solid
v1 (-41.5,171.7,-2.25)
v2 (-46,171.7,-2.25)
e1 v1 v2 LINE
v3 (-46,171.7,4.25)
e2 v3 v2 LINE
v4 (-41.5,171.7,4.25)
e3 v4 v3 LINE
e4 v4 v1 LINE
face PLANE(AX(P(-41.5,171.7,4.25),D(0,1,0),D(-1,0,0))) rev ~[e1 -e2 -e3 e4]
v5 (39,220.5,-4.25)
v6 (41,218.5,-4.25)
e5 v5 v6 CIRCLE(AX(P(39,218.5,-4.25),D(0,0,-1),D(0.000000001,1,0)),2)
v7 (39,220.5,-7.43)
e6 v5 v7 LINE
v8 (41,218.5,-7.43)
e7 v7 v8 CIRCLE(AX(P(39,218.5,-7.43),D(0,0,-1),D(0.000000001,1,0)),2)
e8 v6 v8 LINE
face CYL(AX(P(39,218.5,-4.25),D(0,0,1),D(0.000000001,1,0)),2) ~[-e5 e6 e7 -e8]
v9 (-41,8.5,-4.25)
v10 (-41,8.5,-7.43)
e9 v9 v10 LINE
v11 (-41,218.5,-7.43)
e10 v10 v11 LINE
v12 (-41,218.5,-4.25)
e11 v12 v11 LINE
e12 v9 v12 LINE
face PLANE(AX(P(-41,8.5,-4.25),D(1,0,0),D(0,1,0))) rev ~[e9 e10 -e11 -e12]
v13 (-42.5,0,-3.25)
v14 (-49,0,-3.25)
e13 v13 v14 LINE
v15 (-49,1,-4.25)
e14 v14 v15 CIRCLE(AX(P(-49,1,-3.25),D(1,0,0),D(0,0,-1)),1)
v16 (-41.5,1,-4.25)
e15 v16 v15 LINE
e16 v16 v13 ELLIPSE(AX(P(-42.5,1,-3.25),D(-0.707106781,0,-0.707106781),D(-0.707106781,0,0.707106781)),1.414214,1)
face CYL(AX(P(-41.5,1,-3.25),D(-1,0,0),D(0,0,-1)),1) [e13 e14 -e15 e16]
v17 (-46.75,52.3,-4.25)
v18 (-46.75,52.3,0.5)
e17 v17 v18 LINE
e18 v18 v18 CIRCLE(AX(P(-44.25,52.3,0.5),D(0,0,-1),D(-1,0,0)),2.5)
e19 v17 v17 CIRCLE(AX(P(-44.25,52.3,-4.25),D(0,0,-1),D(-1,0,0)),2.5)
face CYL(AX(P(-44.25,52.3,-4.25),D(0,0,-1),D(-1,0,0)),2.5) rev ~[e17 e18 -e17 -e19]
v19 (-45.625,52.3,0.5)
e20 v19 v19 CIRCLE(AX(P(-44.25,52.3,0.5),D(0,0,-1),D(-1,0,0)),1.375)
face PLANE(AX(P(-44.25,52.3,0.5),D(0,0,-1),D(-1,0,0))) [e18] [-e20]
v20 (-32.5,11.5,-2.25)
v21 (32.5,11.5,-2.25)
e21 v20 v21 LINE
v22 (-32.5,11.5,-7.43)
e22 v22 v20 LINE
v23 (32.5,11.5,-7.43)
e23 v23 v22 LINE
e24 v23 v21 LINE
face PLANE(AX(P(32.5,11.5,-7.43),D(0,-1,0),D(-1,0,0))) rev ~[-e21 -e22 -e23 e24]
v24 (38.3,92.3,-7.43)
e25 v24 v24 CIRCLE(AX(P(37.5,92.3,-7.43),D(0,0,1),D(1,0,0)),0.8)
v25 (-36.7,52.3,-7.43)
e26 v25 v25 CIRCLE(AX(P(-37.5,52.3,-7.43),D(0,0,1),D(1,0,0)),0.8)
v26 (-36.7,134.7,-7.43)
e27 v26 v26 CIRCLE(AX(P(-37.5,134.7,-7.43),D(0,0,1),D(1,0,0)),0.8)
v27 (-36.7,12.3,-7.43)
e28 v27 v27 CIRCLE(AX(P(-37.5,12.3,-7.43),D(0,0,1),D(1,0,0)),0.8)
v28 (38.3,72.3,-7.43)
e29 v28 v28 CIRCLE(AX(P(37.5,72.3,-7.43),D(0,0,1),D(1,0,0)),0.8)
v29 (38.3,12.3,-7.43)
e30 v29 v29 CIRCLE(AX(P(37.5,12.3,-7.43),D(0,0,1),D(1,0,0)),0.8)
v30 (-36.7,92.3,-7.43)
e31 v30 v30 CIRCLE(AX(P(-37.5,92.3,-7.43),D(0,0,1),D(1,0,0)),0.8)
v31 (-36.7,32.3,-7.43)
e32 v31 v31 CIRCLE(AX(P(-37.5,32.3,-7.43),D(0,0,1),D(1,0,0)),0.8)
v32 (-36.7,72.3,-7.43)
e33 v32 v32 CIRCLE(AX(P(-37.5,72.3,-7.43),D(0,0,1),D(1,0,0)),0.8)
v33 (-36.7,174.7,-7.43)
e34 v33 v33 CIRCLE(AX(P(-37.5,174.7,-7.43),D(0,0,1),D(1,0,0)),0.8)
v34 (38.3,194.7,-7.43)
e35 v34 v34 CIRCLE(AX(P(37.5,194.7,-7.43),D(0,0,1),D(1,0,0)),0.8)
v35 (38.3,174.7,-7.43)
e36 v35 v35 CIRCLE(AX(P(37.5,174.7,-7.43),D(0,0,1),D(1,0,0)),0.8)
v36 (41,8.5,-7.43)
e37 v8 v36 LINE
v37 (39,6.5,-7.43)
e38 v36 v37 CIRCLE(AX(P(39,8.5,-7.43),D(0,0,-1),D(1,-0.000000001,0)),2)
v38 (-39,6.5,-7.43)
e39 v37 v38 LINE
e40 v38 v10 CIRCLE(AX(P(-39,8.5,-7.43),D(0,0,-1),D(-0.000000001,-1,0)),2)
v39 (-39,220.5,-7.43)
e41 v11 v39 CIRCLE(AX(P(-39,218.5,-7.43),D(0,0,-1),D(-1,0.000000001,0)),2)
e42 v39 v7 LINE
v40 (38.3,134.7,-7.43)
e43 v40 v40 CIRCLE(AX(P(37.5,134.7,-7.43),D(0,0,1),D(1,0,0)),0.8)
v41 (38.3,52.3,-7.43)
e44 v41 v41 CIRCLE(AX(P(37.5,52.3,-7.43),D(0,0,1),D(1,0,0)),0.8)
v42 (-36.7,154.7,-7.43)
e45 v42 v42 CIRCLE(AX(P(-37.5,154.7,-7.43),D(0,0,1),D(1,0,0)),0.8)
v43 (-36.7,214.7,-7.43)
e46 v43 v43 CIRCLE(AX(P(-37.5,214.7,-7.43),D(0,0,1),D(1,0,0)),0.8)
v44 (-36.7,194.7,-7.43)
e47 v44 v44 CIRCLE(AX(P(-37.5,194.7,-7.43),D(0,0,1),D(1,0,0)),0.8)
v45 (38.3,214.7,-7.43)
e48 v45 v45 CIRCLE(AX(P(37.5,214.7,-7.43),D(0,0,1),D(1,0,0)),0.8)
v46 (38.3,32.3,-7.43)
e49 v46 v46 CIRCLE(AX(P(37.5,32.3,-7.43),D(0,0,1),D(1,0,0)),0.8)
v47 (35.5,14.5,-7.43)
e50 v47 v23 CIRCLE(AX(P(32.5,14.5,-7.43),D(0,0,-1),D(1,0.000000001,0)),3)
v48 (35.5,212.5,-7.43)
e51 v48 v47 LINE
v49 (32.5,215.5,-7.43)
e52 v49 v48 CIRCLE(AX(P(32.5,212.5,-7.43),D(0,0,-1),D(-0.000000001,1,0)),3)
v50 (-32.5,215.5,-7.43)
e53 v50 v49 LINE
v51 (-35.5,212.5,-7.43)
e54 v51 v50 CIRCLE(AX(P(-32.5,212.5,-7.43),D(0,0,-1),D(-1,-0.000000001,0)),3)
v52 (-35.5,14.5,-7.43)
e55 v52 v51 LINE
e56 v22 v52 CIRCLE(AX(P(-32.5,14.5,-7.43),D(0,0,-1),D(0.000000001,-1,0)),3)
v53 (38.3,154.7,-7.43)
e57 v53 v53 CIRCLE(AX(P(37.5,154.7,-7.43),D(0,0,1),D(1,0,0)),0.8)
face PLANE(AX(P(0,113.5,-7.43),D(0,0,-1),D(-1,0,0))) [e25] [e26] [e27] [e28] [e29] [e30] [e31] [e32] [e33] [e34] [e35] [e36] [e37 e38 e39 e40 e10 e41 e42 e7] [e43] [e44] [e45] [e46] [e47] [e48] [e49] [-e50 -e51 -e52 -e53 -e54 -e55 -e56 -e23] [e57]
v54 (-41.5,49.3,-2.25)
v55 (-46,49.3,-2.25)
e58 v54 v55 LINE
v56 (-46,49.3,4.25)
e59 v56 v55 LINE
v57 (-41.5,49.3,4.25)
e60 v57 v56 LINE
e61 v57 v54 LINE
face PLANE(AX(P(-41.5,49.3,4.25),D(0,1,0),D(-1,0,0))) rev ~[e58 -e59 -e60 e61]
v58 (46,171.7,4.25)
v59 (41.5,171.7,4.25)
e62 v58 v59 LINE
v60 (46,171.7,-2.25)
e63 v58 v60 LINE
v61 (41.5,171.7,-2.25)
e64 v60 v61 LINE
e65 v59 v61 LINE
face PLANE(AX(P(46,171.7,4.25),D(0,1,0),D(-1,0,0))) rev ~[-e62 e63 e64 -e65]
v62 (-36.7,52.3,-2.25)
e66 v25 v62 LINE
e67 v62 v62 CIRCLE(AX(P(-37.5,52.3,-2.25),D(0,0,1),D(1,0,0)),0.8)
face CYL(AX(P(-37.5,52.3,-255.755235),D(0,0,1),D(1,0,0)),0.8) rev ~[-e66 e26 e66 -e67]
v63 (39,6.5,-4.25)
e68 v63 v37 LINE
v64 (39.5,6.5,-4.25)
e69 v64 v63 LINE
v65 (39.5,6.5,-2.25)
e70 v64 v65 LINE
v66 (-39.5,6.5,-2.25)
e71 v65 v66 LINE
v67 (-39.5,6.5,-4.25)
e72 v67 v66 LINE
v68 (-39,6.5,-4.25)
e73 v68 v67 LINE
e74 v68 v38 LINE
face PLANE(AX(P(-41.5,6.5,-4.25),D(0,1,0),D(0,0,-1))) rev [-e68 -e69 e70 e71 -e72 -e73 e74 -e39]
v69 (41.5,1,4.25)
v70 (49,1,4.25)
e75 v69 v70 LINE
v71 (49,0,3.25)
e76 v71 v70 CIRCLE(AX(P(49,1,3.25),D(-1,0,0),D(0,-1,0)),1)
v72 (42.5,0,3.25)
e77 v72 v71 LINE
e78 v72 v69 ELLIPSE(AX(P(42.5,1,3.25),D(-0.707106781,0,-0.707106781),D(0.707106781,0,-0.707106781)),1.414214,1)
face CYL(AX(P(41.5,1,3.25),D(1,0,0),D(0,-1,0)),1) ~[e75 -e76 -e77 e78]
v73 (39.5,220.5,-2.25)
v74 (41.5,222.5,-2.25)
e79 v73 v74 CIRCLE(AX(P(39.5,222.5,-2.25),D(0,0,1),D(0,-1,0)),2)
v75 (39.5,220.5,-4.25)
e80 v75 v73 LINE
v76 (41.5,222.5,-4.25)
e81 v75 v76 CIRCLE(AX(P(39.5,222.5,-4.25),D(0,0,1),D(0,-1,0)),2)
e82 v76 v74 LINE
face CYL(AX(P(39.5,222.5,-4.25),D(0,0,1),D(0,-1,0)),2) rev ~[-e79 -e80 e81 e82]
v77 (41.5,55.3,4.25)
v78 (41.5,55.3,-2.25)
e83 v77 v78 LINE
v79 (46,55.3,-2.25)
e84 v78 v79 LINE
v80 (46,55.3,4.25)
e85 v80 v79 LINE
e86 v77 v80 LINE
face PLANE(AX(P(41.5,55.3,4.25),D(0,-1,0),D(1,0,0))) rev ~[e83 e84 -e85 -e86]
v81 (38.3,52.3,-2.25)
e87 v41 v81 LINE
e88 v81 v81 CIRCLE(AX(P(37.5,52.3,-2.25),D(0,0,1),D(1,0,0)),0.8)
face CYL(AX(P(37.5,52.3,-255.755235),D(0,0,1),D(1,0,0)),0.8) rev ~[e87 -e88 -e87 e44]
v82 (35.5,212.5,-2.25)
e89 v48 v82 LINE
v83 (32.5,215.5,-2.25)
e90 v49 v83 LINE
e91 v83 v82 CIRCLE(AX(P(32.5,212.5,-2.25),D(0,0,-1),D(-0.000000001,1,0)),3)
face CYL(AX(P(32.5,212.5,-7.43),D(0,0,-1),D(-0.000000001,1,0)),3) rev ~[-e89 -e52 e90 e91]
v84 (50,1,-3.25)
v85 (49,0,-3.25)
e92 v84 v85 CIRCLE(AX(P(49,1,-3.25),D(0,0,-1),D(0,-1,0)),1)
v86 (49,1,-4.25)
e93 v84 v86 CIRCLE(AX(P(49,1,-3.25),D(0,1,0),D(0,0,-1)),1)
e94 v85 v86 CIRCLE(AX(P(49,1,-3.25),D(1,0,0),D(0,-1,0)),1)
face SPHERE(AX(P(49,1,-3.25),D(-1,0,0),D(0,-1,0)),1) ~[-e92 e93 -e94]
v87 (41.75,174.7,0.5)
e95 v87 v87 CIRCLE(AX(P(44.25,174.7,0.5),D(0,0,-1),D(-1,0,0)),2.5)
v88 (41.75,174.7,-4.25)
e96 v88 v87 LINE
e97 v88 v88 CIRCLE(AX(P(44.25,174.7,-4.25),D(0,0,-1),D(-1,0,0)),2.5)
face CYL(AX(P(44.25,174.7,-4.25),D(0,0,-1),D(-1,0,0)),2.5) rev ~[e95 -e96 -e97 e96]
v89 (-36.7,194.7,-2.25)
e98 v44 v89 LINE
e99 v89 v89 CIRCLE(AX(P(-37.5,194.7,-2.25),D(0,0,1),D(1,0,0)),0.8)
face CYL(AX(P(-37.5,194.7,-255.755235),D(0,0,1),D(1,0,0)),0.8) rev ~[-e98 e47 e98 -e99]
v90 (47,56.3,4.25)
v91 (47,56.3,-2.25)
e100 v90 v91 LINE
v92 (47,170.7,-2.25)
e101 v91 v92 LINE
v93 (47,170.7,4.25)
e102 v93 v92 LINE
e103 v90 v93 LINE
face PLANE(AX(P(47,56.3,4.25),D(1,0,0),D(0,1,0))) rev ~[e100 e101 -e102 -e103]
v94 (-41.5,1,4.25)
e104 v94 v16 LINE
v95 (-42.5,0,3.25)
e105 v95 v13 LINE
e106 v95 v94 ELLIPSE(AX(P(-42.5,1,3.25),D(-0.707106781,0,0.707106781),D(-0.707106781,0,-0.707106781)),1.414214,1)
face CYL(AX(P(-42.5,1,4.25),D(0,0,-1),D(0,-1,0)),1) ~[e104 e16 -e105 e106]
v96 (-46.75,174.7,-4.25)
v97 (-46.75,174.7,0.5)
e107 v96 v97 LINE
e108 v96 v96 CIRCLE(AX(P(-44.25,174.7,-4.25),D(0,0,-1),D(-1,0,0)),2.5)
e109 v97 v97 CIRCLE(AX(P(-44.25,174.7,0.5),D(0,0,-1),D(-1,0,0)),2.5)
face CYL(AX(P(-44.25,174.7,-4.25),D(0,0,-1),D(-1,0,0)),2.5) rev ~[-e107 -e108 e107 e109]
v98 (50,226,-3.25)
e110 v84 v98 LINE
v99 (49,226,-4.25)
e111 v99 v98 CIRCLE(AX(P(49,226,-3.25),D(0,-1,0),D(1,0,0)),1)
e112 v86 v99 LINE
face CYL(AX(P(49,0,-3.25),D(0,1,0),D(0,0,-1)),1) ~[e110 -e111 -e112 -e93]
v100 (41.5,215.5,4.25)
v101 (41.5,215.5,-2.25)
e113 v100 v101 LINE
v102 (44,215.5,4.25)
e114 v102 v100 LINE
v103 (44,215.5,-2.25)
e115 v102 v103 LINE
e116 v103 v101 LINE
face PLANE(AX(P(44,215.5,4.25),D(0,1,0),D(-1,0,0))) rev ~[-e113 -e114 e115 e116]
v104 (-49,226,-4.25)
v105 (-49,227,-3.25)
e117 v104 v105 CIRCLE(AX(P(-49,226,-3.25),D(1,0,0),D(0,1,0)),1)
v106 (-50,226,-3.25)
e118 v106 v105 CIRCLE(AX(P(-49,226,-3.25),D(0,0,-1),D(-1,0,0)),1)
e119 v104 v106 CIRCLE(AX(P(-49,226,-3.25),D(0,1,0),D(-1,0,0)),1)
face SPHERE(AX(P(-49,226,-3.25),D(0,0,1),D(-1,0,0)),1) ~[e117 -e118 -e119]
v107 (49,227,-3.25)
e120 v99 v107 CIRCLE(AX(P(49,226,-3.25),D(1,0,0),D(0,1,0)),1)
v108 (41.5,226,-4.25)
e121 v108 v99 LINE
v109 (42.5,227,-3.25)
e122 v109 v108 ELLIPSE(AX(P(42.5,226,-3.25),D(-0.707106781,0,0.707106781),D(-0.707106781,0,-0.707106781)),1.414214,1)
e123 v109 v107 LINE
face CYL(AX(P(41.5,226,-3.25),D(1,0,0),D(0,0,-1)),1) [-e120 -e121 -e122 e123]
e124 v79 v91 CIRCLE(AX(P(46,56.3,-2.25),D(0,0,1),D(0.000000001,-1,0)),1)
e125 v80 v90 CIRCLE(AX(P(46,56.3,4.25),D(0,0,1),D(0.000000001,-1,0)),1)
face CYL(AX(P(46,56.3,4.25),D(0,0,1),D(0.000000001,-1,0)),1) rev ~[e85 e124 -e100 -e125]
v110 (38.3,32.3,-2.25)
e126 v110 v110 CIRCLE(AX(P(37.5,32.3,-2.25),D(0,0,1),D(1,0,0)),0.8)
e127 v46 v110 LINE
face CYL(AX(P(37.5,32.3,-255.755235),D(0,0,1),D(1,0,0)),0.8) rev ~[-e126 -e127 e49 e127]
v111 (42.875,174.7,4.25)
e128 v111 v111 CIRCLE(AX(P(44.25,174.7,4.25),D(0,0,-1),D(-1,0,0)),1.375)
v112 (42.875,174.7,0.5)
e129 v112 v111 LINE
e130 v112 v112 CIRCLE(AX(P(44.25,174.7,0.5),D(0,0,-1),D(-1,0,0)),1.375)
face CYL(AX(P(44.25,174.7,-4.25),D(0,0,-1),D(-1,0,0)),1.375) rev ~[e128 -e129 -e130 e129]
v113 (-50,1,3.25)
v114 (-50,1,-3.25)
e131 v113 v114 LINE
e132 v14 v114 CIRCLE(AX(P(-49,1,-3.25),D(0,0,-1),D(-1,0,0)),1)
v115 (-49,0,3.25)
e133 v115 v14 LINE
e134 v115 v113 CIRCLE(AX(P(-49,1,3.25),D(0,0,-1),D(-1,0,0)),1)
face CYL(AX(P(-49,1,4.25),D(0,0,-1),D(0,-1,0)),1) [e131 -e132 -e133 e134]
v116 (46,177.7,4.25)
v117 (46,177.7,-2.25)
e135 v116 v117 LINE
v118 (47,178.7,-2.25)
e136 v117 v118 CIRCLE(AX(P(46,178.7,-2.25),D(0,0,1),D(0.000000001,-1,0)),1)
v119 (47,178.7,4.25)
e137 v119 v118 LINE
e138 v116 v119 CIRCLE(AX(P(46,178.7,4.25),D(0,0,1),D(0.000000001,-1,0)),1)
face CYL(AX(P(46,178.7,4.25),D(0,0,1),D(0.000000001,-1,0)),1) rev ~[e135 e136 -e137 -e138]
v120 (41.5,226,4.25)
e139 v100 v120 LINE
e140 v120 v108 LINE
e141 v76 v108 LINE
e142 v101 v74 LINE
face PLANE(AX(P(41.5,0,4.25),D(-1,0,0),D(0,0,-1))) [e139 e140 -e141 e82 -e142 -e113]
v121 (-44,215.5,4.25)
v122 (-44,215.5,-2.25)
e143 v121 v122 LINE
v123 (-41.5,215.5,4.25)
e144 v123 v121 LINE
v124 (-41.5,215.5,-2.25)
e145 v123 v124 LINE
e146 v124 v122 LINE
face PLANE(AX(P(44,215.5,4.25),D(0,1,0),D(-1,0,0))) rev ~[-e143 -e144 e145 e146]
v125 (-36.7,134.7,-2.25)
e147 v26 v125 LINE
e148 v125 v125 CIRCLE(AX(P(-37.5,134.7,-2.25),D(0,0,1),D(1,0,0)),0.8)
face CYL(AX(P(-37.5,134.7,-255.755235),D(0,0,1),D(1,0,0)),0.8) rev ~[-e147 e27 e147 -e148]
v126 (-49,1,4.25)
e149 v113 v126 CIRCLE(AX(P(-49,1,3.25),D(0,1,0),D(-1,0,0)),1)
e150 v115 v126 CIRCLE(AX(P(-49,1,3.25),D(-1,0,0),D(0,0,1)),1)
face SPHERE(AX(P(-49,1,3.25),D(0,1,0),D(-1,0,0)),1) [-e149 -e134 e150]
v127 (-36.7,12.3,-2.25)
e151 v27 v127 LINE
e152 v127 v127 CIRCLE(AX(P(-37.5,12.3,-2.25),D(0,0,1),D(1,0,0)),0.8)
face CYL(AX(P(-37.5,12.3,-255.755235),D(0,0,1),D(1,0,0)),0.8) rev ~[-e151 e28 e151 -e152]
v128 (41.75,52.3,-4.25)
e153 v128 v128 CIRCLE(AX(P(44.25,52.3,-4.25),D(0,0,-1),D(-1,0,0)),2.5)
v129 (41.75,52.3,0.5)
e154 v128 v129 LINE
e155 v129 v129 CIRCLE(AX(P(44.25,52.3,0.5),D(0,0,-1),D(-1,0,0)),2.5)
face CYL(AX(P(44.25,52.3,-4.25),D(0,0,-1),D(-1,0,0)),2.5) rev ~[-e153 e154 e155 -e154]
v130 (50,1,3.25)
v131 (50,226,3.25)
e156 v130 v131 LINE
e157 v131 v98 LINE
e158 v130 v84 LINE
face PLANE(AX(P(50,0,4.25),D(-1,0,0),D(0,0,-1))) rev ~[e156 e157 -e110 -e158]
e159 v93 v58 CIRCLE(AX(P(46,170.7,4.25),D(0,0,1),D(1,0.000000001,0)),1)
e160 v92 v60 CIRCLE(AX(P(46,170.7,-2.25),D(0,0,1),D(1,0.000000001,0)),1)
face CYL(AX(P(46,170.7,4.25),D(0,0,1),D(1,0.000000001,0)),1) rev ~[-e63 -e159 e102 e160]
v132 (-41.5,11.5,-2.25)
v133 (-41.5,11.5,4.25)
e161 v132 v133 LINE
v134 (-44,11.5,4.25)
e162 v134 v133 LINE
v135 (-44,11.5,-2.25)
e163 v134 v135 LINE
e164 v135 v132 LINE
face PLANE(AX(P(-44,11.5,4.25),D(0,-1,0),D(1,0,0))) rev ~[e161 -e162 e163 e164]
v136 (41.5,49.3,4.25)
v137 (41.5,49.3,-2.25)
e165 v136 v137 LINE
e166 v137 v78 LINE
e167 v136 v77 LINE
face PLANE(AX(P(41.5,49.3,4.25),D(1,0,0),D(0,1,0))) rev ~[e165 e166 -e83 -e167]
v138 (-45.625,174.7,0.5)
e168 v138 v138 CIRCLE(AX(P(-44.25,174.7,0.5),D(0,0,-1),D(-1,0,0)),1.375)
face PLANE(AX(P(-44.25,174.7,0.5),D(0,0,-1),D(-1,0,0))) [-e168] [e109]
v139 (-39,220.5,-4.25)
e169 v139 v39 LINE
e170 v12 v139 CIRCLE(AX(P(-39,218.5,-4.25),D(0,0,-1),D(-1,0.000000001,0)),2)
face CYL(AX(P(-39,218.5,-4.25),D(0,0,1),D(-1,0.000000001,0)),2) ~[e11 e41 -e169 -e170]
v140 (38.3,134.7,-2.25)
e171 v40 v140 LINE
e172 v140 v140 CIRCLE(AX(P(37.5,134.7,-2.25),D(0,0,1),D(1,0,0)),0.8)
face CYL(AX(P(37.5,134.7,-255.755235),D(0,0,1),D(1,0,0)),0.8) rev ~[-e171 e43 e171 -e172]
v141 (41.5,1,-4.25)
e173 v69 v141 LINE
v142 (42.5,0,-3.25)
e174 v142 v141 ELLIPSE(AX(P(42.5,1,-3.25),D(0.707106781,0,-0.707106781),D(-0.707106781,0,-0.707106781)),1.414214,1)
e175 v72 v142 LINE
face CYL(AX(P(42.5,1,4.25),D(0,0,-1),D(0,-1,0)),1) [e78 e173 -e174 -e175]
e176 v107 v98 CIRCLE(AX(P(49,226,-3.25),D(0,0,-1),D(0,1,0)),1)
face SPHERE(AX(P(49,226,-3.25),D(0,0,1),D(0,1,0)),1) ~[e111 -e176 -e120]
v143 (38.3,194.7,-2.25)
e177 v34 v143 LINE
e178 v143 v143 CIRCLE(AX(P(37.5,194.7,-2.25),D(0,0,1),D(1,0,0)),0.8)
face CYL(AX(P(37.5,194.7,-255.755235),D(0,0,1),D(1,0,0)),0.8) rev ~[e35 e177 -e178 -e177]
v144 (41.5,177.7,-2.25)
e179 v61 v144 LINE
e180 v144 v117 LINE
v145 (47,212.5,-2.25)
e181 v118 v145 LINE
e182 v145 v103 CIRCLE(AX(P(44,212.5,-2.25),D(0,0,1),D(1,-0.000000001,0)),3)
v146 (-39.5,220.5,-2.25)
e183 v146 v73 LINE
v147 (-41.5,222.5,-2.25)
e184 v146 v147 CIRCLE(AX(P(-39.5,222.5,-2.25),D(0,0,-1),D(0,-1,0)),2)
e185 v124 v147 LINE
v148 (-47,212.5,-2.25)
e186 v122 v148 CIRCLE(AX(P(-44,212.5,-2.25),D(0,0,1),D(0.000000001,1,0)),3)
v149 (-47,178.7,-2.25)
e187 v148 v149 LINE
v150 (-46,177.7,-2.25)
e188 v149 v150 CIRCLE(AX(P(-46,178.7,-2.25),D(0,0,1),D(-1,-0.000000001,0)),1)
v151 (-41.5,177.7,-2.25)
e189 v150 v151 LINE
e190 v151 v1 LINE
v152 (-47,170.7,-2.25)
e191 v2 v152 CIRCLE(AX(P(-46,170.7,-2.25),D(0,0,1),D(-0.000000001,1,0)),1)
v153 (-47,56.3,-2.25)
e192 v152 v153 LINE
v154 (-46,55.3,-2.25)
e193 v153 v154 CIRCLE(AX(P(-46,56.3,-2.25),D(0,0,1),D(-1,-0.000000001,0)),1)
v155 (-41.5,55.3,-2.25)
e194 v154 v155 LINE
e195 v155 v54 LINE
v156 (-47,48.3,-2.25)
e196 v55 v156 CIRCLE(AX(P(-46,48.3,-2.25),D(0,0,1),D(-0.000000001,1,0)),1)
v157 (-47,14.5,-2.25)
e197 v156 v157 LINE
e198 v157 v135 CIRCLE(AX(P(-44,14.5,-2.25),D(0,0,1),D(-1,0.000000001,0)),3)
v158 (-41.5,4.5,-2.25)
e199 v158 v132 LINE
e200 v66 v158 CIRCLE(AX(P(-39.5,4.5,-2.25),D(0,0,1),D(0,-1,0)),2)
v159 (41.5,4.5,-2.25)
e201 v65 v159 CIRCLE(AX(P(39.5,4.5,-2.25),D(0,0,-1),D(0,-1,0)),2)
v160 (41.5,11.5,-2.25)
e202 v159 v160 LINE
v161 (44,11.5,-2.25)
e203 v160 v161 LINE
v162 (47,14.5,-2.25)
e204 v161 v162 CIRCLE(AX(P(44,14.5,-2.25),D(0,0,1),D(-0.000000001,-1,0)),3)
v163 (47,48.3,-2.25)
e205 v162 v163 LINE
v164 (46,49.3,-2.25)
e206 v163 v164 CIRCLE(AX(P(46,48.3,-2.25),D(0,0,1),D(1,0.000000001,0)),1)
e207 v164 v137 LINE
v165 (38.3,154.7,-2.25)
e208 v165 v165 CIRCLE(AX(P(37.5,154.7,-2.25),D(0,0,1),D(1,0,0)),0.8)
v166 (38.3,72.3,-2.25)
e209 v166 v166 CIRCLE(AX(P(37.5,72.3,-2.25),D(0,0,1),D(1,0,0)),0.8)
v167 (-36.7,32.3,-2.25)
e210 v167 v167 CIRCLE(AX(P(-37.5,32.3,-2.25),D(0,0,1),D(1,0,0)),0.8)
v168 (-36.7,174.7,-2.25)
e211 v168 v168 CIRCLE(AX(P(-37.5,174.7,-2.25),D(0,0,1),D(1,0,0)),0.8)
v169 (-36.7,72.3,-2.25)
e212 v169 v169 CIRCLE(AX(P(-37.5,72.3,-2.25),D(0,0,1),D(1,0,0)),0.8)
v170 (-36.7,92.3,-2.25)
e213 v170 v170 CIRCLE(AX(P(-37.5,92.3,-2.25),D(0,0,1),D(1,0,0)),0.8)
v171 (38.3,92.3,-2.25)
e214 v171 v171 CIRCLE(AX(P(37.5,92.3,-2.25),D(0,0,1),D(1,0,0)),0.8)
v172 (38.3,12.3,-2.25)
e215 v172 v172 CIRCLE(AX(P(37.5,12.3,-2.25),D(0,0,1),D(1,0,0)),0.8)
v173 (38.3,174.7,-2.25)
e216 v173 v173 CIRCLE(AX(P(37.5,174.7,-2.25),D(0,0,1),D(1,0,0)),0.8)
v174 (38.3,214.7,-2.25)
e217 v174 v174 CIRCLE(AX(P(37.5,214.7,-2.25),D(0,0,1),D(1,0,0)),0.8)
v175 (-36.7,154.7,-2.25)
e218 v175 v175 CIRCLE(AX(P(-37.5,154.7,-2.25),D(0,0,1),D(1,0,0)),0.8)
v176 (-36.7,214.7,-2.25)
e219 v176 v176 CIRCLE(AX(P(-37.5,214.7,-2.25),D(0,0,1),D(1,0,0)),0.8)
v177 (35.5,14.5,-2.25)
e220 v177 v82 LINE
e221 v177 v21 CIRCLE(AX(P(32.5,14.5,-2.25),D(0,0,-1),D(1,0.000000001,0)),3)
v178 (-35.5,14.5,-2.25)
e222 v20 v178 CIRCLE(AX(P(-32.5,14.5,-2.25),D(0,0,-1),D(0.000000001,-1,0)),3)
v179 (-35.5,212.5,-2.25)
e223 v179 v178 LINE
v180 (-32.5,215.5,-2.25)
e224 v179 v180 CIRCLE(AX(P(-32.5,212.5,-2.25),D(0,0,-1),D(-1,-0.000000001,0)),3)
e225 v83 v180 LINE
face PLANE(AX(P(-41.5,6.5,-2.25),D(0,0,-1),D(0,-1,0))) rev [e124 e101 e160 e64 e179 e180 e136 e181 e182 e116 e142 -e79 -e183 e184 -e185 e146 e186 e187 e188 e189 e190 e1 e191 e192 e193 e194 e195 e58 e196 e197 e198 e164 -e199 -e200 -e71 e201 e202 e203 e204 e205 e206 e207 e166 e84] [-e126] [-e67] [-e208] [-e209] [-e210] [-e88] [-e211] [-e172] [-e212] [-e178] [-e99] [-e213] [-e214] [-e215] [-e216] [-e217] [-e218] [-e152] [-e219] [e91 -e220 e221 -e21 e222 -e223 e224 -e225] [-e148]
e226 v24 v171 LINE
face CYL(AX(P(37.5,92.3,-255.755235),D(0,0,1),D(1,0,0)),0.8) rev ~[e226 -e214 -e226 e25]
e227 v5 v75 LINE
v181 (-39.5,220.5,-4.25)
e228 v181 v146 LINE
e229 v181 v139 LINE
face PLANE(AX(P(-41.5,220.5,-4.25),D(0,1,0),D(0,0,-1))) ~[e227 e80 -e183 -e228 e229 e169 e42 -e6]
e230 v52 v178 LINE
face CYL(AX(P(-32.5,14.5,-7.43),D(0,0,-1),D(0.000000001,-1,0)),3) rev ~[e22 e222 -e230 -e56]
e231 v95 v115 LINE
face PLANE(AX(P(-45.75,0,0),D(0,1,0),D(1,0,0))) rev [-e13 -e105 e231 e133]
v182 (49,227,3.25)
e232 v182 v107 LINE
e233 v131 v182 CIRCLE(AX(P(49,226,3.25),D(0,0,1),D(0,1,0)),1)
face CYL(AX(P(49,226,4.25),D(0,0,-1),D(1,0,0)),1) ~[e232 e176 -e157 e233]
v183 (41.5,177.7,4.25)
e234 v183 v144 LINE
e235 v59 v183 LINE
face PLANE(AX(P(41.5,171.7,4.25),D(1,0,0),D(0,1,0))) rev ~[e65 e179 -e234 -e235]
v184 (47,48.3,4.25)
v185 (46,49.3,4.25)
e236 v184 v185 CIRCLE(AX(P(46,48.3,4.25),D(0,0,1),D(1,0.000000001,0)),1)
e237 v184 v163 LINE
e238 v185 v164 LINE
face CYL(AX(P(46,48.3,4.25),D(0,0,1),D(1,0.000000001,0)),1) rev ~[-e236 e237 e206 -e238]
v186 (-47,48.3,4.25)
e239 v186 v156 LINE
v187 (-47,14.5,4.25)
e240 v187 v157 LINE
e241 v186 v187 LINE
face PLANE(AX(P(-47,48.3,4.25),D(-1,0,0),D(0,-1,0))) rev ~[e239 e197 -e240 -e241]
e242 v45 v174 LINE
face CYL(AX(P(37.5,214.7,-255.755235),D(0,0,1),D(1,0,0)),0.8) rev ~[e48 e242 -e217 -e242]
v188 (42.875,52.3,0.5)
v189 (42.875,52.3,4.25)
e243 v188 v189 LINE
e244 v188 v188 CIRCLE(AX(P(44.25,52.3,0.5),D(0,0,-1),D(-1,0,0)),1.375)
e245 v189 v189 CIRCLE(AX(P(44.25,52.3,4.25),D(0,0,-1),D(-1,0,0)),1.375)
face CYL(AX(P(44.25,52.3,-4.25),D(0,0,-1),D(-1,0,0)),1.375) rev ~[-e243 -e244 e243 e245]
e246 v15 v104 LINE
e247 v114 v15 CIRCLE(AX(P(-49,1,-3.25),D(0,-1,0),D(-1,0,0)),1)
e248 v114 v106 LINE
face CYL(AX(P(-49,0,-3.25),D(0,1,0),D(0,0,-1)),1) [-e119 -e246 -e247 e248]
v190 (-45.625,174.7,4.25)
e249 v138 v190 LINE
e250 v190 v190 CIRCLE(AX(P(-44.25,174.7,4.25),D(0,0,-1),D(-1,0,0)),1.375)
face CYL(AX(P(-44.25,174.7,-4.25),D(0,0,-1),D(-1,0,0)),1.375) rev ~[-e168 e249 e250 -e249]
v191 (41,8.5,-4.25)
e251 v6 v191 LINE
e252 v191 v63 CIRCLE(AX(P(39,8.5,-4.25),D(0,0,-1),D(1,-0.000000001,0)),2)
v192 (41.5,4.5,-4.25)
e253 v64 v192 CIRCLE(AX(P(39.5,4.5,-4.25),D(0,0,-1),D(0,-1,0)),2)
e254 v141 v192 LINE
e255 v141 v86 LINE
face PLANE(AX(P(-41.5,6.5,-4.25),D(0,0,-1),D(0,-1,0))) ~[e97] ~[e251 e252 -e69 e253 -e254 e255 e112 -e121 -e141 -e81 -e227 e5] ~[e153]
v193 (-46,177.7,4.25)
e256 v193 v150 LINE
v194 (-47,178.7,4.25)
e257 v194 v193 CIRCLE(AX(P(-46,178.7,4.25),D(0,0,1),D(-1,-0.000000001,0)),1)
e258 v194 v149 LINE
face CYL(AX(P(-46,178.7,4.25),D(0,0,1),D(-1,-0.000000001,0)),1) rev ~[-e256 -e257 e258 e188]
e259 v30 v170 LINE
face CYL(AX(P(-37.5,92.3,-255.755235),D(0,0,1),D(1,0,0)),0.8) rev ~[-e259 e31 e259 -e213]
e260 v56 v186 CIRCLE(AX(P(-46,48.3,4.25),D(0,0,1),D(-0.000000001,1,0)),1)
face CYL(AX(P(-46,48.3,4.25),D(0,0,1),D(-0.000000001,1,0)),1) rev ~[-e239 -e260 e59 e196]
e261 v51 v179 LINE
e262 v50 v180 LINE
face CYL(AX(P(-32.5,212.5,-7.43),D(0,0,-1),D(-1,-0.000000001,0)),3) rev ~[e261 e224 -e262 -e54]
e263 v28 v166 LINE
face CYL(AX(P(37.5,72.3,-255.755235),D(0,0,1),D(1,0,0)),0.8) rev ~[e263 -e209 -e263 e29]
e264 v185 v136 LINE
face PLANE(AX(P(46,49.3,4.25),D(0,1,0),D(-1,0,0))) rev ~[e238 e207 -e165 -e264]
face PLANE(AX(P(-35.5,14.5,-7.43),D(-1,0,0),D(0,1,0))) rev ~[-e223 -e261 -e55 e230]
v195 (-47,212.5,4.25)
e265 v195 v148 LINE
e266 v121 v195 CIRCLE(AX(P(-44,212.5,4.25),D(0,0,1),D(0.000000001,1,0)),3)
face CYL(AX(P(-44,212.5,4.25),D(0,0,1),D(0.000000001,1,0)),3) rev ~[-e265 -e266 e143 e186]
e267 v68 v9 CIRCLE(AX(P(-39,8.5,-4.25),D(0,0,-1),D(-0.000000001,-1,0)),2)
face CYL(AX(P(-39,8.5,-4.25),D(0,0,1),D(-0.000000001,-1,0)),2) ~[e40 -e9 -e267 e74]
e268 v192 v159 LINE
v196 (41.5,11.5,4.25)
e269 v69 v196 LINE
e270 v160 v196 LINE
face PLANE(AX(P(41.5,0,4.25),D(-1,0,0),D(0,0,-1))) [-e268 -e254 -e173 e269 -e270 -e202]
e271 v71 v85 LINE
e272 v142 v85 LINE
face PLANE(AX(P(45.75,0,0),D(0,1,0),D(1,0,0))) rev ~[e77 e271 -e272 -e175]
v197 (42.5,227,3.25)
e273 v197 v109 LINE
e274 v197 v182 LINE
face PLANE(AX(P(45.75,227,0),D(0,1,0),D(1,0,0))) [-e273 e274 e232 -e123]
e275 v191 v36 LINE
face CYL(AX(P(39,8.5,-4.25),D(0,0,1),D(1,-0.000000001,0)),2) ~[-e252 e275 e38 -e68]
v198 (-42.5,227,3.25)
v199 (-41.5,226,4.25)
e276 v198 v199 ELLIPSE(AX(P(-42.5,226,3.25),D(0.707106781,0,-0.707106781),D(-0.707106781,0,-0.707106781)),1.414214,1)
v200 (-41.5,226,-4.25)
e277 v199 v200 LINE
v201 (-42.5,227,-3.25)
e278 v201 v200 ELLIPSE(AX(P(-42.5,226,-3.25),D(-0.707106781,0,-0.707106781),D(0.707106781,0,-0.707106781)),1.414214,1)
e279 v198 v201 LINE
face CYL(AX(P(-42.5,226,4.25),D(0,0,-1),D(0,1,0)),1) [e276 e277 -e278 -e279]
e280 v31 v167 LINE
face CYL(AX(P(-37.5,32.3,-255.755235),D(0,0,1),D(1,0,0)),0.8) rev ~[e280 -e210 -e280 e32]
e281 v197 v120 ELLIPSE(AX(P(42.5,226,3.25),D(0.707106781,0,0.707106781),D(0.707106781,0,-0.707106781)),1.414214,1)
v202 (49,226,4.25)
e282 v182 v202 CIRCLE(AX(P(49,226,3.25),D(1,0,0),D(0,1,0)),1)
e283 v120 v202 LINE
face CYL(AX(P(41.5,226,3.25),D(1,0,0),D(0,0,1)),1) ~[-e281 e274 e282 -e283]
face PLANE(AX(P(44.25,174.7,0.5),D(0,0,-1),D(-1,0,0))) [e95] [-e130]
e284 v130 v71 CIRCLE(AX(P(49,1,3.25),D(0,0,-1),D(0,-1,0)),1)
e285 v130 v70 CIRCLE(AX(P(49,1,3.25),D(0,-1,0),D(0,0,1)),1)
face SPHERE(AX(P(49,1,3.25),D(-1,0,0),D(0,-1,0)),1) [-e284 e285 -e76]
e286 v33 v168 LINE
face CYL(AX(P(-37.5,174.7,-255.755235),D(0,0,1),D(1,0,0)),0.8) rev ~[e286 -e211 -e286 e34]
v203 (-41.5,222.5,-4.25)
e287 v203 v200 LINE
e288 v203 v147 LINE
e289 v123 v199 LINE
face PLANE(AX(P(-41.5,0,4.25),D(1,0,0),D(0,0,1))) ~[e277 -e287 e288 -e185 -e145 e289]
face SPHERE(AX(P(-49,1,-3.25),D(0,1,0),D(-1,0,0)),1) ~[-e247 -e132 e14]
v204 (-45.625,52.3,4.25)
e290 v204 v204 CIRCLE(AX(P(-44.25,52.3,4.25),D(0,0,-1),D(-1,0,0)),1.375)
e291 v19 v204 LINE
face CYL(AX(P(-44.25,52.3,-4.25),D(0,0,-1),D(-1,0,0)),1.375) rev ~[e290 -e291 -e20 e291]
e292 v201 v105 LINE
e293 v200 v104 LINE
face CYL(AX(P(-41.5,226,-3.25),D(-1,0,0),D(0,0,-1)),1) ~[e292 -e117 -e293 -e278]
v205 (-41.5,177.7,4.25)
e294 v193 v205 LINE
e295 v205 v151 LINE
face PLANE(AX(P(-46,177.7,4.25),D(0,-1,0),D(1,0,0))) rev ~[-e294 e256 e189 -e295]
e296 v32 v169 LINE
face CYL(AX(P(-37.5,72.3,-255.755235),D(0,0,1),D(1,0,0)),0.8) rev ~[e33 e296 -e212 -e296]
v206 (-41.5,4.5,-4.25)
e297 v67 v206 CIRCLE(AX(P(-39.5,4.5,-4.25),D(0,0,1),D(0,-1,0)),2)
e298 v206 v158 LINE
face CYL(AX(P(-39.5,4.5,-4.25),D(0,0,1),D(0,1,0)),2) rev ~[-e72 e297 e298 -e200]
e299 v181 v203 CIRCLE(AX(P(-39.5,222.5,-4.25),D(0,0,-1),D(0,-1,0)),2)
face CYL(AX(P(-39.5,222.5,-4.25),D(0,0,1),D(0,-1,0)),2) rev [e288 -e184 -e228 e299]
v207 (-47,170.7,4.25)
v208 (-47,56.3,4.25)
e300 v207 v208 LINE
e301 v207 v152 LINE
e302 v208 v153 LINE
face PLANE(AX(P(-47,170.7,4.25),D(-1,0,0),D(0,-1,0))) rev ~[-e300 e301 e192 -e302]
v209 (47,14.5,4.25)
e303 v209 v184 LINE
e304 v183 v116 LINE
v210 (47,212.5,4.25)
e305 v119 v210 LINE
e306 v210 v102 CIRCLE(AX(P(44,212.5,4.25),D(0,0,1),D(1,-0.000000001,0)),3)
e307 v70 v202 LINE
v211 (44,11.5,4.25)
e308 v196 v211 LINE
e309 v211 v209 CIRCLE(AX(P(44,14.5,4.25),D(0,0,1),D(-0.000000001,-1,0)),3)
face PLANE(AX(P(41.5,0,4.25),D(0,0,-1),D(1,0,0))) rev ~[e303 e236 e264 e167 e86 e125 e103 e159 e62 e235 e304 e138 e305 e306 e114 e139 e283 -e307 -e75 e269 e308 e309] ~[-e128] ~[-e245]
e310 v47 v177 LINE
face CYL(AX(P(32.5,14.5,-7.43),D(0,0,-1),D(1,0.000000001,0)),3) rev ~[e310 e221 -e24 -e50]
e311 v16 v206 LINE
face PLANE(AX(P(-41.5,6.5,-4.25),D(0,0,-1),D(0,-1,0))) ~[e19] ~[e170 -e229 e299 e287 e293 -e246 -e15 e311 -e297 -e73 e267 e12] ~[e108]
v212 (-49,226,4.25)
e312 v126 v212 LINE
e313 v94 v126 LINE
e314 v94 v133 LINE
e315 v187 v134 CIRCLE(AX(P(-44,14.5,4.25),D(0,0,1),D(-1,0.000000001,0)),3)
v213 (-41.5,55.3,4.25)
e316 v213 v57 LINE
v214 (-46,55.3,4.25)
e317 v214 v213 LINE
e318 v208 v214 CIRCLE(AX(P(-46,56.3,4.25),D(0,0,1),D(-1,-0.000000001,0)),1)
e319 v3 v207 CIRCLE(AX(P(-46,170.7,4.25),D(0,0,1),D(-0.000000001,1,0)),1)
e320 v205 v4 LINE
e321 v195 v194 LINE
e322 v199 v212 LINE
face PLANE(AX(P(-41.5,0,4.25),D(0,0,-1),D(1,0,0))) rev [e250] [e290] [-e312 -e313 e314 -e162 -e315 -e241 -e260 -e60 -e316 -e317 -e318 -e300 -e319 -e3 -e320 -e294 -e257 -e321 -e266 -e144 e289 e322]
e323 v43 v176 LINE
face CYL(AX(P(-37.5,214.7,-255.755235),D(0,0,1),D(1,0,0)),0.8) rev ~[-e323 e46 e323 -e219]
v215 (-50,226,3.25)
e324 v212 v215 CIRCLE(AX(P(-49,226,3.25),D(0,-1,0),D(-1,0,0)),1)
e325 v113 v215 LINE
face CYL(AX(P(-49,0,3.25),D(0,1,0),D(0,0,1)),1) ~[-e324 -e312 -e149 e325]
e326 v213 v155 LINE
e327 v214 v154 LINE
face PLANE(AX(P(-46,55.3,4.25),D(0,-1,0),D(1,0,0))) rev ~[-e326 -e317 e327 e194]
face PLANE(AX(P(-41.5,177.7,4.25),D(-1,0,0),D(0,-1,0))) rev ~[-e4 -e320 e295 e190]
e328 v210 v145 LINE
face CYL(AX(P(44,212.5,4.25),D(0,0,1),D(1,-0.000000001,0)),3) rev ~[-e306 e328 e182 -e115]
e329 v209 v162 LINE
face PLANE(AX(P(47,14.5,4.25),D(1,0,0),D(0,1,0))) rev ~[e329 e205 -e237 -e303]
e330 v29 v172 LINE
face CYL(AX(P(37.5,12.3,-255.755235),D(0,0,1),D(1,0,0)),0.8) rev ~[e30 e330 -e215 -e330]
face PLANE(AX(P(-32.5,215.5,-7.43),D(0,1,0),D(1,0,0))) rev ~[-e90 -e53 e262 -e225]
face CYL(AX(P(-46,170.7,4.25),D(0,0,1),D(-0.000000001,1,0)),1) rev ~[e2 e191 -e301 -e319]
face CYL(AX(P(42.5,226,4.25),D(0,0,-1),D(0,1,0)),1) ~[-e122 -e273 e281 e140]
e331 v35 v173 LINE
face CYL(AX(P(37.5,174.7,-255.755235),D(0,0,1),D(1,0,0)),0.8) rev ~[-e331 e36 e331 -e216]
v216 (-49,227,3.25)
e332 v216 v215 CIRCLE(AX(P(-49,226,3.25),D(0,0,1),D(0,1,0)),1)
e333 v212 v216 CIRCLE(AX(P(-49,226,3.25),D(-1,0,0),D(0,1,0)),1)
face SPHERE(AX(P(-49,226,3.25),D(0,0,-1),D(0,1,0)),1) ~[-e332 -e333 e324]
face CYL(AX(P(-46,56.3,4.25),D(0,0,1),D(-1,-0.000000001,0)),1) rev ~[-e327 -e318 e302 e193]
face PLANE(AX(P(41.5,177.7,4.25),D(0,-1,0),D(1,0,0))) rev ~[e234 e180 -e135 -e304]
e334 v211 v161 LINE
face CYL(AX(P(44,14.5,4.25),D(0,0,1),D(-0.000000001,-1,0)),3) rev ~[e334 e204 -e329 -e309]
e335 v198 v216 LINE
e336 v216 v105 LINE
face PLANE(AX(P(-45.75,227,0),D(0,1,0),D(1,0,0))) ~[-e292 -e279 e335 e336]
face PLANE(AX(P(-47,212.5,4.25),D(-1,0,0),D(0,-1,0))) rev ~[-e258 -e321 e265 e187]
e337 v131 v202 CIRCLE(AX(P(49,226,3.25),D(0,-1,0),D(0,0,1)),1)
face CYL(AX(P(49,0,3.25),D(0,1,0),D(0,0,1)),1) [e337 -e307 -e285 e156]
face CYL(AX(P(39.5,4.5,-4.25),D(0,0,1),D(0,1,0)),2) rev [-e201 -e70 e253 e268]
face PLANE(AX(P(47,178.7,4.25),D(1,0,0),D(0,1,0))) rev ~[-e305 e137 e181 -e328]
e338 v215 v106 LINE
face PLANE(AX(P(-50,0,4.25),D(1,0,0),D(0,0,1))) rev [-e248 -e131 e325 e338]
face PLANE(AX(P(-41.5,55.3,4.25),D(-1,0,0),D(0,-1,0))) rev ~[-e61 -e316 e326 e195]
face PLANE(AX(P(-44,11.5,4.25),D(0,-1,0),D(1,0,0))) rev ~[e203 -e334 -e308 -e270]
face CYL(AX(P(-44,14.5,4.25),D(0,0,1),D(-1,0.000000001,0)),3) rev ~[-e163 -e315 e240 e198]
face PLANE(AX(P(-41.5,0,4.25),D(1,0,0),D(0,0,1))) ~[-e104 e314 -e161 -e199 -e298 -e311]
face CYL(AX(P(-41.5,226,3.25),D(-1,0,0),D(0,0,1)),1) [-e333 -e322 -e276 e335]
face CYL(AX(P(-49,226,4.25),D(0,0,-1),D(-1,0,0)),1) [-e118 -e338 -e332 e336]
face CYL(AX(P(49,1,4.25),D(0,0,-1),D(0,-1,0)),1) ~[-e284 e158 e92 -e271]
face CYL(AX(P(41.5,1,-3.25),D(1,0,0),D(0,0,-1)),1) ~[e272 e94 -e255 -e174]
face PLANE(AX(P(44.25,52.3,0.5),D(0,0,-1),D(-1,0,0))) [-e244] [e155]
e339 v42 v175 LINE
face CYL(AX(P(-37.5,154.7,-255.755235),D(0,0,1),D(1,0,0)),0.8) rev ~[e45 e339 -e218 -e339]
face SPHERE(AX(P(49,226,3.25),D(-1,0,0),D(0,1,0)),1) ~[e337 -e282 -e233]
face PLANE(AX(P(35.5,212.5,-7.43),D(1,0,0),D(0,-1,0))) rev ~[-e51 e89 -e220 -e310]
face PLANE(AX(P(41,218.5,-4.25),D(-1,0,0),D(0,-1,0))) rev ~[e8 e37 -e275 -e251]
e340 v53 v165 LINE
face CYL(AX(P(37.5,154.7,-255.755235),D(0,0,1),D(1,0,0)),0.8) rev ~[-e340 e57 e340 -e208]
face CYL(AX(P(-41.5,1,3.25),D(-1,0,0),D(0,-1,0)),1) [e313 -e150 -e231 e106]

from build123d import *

# Parameters (mm, degrees)
SKETCH1_W             = 8.5
SKETCH1_H             = 8.5
BOSS_EXTRUDE1_DEPTH   = 227
SKETCH2_W             = 2
SKETCH2_H             = 214
BOSS_EXTRUDE2_DEPTH   = 50
BOSS_EXTRUDE3_DEPTH   = 3.18
CUT_EXTRUDE1_DEPTH    = 233.734660934
FILLET1_R             = 2
FILLET2_R             = 1
CUT_EXTRUDE2_DEPTH    = 6.5
M2X0_4_TAPPED_HOLE1_D = 1.6
SKETCH8_R             = 1.375
CUT_EXTRUDE3_DEPTH    = 233.596754062
SKETCH9_R             = 2.5
CUT_EXTRUDE4_DEPTH    = 4.75
LPATTERN1_COUNT       = 2
LPATTERN1_PITCH       = 88.5
LPATTERN1_COUNT_DIR2  = 2
LPATTERN1_PITCH_DIR2  = 122.4


with BuildPart() as part:
    # Sketch1 → Boss-Extrude1 (new body)
    with BuildSketch(Plane(origin=(0, 0, 0), x_dir=(1, 0, 0), z_dir=(0, 1, 0))):
        with Locations((45.75, 0)):
            Rectangle(SKETCH1_W, SKETCH1_H)
    boss_extrude1 = extrude(amount=BOSS_EXTRUDE1_DEPTH)

    # Sketch2 → Boss-Extrude2 (add)
    with BuildSketch(Plane.ZY.offset(-41.5)):
        with Locations((-3.25, 113.5)):
            Rectangle(SKETCH2_W, SKETCH2_H)
    boss_extrude2 = extrude(amount=BOSS_EXTRUDE2_DEPTH)

    # Mirror2: Boss-Extrude1, Boss-Extrude2 across plane
    add(boss_extrude1.mirror(Plane(origin=(0, 0, 0), x_dir=(0, 0, 1), z_dir=(1, 0, 0))))
    add(boss_extrude2.mirror(Plane(origin=(0, 0, 0), x_dir=(0, 0, 1), z_dir=(1, 0, 0))))

    # Sketch3 → Boss-Extrude3 (add)
    with BuildSketch(Plane(origin=(0, 0, -4.25), x_dir=(-1, 0, 0), z_dir=(0, 0, -1))):
        with BuildLine():
            Line((-39, 6.5), (39, 6.5))
            ThreePointArc((39, 6.5), (40.414213562, 7.085786438), (41, 8.5))
            Line((41, 8.5), (41, 218.5))
            ThreePointArc((41, 218.5), (40.414213562, 219.914213562), (39, 220.5))
            Line((39, 220.5), (-39, 220.5))
            ThreePointArc((-39, 220.5), (-40.414213562, 219.914213562), (-41, 218.5))
            Line((-41, 218.5), (-41, 8.5))
            ThreePointArc((-41, 8.5), (-40.414213562, 7.085786438), (-39, 6.5))
        make_face()
    extrude(amount=BOSS_EXTRUDE3_DEPTH)

    # Sketch4 → Cut-Extrude1 (cut, through all)
    with BuildSketch(Plane(origin=(0, 0, -7.43), x_dir=(-1, 0, 0), z_dir=(0, 0, -1))):
        with BuildLine():
            Line((-32.5, 11.5), (32.5, 11.5))
            ThreePointArc((32.5, 11.5), (34.621320344, 12.378679656), (35.5, 14.5))
            Line((35.5, 14.5), (35.5, 212.5))
            ThreePointArc((35.5, 212.5), (34.621320344, 214.621320344), (32.5, 215.5))
            Line((32.5, 215.5), (-32.5, 215.5))
            ThreePointArc((-32.5, 215.5), (-34.621320344, 214.621320344), (-35.5, 212.5))
            Line((-35.5, 212.5), (-35.5, 14.5))
            ThreePointArc((-35.5, 14.5), (-34.621320344, 12.378679656), (-32.5, 11.5))
        make_face()
    extrude(amount=-CUT_EXTRUDE1_DEPTH, mode=Mode.SUBTRACT)

    # Fillet1
    fillet1_edges = [part.edges().sort_by_distance(p)[0] for p in [
        (41.5, 6.5, -3.25),
        (-41.5, 6.5, -3.25),
        (41.5, 220.5, -3.25),
        (-41.5, 220.5, -3.25),
    ]]
    fillet(fillet1_edges, radius=FILLET1_R)

    # Fillet2
    fillet2_edges = [part.edges().sort_by_distance(p)[0] for p in [
        (41.5, 227, 0),
        (45.75, 227, 4.25),
        (-41.5, 227, 0),
        (-50, 227, 0),
        (-50, 113.5, -4.25),
        (-45.75, 227, -4.25),
        (-45.75, 227, 4.25),
        (-50, 113.5, 4.25),
        (-50, 0, 0),
        (-45.75, 0, -4.25),
        (-41.5, 0, 0),
        (-45.75, 0, 4.25),
        (50, 227, 0),
        (45.75, 0, 4.25),
        (41.5, 0, 0),
        (45.75, 0, -4.25),
        (50, 0, 0),
        (45.75, 227, -4.25),
        (50, 113.5, 4.25),
        (50, 113.5, -4.25),
    ]]
    fillet(fillet2_edges, radius=FILLET2_R)

    # Sketch5 → Cut-Extrude2 (cut)
    with BuildSketch(Plane.XY.offset(4.25)):
        with BuildLine():
            Line((-44, 11.5), (44, 11.5))
            ThreePointArc((44, 11.5), (46.121320344, 12.378679656), (47, 14.5))
            Line((47, 14.5), (47, 48.3))
            ThreePointArc((47, 48.3), (46.707106781, 49.007106781), (46, 49.3))
            Line((46, 49.3), (41.5, 49.3))
            Line((41.5, 49.3), (41.5, 55.3))
            Line((41.5, 55.3), (46, 55.3))
            ThreePointArc((46, 55.3), (46.707106781, 55.592893219), (47, 56.3))
            Line((47, 56.3), (47, 170.7))
            ThreePointArc((47, 170.7), (46.707106781, 171.407106781), (46, 171.7))
            Line((46, 171.7), (41.5, 171.7))
            Line((41.5, 171.7), (41.5, 177.7))
            Line((41.5, 177.7), (46, 177.7))
            ThreePointArc((46, 177.7), (46.707106781, 177.992893219), (47, 178.7))
            Line((47, 178.7), (47, 212.5))
            ThreePointArc((47, 212.5), (46.121320344, 214.621320344), (44, 215.5))
            Line((44, 215.5), (-44, 215.5))
            ThreePointArc((-44, 215.5), (-46.121320344, 214.621320344), (-47, 212.5))
            Line((-47, 212.5), (-47, 178.7))
            ThreePointArc((-47, 178.7), (-46.707106781, 177.992893219), (-46, 177.7))
            Line((-46, 177.7), (-41.5, 177.7))
            Line((-41.5, 177.7), (-41.5, 171.7))
            Line((-41.5, 171.7), (-46, 171.7))
            ThreePointArc((-46, 171.7), (-46.707106781, 171.407106781), (-47, 170.7))
            Line((-47, 170.7), (-47, 56.3))
            ThreePointArc((-47, 56.3), (-46.707106781, 55.592893219), (-46, 55.3))
            Line((-46, 55.3), (-41.5, 55.3))
            Line((-41.5, 55.3), (-41.5, 49.3))
            Line((-41.5, 49.3), (-46, 49.3))
            ThreePointArc((-46, 49.3), (-46.707106781, 49.007106781), (-47, 48.3))
            Line((-47, 48.3), (-47, 14.5))
            ThreePointArc((-47, 14.5), (-46.121320344, 12.378679656), (-44, 11.5))
        make_face()
    extrude(amount=-CUT_EXTRUDE2_DEPTH, mode=Mode.SUBTRACT)

    # M2x0.4 Tapped Hole1 (through all)
    with Locations(Plane(origin=(0, 0, -7.43), x_dir=(-1, 0, 0), z_dir=(0, 0, -1))):
        with Locations((-37.5, 214.7), (37.5, 214.7), (37.5, 194.7), (37.5, 174.7), (37.5, 154.7), (37.5, 134.7), (-37.5, 194.7), (-37.5, 174.7), (-37.5, 154.7), (-37.5, 134.7), (-37.5, 12.3), (-37.5, 32.3), (-37.5, 52.3), (-37.5, 72.3), (-37.5, 92.3), (37.5, 92.3), (37.5, 72.3), (37.5, 52.3), (37.5, 32.3), (37.5, 12.3)):
            Hole(M2X0_4_TAPPED_HOLE1_D / 2)

    # Sketch8 → Cut-Extrude3 (cut, through all)
    with BuildSketch(Plane(origin=(0, 0, -4.25), x_dir=(-1, 0, 0), z_dir=(0, 0, -1))):
        with Locations((-44.25, 174.7)):
            Circle(SKETCH8_R)
    cut_extrude3 = extrude(amount=-CUT_EXTRUDE3_DEPTH, mode=Mode.SUBTRACT)

    # Sketch9 → Cut-Extrude4 (cut)
    with BuildSketch(Plane(origin=(0, 0, -4.25), x_dir=(-1, 0, 0), z_dir=(0, 0, -1))):
        with Locations((-44.25, 174.7)):
            Circle(SKETCH9_R)
    cut_extrude4 = extrude(amount=-CUT_EXTRUDE4_DEPTH, mode=Mode.SUBTRACT)

    # LPattern1: Cut-Extrude3, Cut-Extrude4 2 × 2
    with Locations(*[(-i * LPATTERN1_PITCH, -j * LPATTERN1_PITCH_DIR2, 0) for i in range(LPATTERN1_COUNT) for j in range(LPATTERN1_COUNT_DIR2) if (i, j) != (0, 0)]):
        add(cut_extrude3, mode=Mode.SUBTRACT)
        add(cut_extrude4, mode=Mode.SUBTRACT)


solid = part.part
